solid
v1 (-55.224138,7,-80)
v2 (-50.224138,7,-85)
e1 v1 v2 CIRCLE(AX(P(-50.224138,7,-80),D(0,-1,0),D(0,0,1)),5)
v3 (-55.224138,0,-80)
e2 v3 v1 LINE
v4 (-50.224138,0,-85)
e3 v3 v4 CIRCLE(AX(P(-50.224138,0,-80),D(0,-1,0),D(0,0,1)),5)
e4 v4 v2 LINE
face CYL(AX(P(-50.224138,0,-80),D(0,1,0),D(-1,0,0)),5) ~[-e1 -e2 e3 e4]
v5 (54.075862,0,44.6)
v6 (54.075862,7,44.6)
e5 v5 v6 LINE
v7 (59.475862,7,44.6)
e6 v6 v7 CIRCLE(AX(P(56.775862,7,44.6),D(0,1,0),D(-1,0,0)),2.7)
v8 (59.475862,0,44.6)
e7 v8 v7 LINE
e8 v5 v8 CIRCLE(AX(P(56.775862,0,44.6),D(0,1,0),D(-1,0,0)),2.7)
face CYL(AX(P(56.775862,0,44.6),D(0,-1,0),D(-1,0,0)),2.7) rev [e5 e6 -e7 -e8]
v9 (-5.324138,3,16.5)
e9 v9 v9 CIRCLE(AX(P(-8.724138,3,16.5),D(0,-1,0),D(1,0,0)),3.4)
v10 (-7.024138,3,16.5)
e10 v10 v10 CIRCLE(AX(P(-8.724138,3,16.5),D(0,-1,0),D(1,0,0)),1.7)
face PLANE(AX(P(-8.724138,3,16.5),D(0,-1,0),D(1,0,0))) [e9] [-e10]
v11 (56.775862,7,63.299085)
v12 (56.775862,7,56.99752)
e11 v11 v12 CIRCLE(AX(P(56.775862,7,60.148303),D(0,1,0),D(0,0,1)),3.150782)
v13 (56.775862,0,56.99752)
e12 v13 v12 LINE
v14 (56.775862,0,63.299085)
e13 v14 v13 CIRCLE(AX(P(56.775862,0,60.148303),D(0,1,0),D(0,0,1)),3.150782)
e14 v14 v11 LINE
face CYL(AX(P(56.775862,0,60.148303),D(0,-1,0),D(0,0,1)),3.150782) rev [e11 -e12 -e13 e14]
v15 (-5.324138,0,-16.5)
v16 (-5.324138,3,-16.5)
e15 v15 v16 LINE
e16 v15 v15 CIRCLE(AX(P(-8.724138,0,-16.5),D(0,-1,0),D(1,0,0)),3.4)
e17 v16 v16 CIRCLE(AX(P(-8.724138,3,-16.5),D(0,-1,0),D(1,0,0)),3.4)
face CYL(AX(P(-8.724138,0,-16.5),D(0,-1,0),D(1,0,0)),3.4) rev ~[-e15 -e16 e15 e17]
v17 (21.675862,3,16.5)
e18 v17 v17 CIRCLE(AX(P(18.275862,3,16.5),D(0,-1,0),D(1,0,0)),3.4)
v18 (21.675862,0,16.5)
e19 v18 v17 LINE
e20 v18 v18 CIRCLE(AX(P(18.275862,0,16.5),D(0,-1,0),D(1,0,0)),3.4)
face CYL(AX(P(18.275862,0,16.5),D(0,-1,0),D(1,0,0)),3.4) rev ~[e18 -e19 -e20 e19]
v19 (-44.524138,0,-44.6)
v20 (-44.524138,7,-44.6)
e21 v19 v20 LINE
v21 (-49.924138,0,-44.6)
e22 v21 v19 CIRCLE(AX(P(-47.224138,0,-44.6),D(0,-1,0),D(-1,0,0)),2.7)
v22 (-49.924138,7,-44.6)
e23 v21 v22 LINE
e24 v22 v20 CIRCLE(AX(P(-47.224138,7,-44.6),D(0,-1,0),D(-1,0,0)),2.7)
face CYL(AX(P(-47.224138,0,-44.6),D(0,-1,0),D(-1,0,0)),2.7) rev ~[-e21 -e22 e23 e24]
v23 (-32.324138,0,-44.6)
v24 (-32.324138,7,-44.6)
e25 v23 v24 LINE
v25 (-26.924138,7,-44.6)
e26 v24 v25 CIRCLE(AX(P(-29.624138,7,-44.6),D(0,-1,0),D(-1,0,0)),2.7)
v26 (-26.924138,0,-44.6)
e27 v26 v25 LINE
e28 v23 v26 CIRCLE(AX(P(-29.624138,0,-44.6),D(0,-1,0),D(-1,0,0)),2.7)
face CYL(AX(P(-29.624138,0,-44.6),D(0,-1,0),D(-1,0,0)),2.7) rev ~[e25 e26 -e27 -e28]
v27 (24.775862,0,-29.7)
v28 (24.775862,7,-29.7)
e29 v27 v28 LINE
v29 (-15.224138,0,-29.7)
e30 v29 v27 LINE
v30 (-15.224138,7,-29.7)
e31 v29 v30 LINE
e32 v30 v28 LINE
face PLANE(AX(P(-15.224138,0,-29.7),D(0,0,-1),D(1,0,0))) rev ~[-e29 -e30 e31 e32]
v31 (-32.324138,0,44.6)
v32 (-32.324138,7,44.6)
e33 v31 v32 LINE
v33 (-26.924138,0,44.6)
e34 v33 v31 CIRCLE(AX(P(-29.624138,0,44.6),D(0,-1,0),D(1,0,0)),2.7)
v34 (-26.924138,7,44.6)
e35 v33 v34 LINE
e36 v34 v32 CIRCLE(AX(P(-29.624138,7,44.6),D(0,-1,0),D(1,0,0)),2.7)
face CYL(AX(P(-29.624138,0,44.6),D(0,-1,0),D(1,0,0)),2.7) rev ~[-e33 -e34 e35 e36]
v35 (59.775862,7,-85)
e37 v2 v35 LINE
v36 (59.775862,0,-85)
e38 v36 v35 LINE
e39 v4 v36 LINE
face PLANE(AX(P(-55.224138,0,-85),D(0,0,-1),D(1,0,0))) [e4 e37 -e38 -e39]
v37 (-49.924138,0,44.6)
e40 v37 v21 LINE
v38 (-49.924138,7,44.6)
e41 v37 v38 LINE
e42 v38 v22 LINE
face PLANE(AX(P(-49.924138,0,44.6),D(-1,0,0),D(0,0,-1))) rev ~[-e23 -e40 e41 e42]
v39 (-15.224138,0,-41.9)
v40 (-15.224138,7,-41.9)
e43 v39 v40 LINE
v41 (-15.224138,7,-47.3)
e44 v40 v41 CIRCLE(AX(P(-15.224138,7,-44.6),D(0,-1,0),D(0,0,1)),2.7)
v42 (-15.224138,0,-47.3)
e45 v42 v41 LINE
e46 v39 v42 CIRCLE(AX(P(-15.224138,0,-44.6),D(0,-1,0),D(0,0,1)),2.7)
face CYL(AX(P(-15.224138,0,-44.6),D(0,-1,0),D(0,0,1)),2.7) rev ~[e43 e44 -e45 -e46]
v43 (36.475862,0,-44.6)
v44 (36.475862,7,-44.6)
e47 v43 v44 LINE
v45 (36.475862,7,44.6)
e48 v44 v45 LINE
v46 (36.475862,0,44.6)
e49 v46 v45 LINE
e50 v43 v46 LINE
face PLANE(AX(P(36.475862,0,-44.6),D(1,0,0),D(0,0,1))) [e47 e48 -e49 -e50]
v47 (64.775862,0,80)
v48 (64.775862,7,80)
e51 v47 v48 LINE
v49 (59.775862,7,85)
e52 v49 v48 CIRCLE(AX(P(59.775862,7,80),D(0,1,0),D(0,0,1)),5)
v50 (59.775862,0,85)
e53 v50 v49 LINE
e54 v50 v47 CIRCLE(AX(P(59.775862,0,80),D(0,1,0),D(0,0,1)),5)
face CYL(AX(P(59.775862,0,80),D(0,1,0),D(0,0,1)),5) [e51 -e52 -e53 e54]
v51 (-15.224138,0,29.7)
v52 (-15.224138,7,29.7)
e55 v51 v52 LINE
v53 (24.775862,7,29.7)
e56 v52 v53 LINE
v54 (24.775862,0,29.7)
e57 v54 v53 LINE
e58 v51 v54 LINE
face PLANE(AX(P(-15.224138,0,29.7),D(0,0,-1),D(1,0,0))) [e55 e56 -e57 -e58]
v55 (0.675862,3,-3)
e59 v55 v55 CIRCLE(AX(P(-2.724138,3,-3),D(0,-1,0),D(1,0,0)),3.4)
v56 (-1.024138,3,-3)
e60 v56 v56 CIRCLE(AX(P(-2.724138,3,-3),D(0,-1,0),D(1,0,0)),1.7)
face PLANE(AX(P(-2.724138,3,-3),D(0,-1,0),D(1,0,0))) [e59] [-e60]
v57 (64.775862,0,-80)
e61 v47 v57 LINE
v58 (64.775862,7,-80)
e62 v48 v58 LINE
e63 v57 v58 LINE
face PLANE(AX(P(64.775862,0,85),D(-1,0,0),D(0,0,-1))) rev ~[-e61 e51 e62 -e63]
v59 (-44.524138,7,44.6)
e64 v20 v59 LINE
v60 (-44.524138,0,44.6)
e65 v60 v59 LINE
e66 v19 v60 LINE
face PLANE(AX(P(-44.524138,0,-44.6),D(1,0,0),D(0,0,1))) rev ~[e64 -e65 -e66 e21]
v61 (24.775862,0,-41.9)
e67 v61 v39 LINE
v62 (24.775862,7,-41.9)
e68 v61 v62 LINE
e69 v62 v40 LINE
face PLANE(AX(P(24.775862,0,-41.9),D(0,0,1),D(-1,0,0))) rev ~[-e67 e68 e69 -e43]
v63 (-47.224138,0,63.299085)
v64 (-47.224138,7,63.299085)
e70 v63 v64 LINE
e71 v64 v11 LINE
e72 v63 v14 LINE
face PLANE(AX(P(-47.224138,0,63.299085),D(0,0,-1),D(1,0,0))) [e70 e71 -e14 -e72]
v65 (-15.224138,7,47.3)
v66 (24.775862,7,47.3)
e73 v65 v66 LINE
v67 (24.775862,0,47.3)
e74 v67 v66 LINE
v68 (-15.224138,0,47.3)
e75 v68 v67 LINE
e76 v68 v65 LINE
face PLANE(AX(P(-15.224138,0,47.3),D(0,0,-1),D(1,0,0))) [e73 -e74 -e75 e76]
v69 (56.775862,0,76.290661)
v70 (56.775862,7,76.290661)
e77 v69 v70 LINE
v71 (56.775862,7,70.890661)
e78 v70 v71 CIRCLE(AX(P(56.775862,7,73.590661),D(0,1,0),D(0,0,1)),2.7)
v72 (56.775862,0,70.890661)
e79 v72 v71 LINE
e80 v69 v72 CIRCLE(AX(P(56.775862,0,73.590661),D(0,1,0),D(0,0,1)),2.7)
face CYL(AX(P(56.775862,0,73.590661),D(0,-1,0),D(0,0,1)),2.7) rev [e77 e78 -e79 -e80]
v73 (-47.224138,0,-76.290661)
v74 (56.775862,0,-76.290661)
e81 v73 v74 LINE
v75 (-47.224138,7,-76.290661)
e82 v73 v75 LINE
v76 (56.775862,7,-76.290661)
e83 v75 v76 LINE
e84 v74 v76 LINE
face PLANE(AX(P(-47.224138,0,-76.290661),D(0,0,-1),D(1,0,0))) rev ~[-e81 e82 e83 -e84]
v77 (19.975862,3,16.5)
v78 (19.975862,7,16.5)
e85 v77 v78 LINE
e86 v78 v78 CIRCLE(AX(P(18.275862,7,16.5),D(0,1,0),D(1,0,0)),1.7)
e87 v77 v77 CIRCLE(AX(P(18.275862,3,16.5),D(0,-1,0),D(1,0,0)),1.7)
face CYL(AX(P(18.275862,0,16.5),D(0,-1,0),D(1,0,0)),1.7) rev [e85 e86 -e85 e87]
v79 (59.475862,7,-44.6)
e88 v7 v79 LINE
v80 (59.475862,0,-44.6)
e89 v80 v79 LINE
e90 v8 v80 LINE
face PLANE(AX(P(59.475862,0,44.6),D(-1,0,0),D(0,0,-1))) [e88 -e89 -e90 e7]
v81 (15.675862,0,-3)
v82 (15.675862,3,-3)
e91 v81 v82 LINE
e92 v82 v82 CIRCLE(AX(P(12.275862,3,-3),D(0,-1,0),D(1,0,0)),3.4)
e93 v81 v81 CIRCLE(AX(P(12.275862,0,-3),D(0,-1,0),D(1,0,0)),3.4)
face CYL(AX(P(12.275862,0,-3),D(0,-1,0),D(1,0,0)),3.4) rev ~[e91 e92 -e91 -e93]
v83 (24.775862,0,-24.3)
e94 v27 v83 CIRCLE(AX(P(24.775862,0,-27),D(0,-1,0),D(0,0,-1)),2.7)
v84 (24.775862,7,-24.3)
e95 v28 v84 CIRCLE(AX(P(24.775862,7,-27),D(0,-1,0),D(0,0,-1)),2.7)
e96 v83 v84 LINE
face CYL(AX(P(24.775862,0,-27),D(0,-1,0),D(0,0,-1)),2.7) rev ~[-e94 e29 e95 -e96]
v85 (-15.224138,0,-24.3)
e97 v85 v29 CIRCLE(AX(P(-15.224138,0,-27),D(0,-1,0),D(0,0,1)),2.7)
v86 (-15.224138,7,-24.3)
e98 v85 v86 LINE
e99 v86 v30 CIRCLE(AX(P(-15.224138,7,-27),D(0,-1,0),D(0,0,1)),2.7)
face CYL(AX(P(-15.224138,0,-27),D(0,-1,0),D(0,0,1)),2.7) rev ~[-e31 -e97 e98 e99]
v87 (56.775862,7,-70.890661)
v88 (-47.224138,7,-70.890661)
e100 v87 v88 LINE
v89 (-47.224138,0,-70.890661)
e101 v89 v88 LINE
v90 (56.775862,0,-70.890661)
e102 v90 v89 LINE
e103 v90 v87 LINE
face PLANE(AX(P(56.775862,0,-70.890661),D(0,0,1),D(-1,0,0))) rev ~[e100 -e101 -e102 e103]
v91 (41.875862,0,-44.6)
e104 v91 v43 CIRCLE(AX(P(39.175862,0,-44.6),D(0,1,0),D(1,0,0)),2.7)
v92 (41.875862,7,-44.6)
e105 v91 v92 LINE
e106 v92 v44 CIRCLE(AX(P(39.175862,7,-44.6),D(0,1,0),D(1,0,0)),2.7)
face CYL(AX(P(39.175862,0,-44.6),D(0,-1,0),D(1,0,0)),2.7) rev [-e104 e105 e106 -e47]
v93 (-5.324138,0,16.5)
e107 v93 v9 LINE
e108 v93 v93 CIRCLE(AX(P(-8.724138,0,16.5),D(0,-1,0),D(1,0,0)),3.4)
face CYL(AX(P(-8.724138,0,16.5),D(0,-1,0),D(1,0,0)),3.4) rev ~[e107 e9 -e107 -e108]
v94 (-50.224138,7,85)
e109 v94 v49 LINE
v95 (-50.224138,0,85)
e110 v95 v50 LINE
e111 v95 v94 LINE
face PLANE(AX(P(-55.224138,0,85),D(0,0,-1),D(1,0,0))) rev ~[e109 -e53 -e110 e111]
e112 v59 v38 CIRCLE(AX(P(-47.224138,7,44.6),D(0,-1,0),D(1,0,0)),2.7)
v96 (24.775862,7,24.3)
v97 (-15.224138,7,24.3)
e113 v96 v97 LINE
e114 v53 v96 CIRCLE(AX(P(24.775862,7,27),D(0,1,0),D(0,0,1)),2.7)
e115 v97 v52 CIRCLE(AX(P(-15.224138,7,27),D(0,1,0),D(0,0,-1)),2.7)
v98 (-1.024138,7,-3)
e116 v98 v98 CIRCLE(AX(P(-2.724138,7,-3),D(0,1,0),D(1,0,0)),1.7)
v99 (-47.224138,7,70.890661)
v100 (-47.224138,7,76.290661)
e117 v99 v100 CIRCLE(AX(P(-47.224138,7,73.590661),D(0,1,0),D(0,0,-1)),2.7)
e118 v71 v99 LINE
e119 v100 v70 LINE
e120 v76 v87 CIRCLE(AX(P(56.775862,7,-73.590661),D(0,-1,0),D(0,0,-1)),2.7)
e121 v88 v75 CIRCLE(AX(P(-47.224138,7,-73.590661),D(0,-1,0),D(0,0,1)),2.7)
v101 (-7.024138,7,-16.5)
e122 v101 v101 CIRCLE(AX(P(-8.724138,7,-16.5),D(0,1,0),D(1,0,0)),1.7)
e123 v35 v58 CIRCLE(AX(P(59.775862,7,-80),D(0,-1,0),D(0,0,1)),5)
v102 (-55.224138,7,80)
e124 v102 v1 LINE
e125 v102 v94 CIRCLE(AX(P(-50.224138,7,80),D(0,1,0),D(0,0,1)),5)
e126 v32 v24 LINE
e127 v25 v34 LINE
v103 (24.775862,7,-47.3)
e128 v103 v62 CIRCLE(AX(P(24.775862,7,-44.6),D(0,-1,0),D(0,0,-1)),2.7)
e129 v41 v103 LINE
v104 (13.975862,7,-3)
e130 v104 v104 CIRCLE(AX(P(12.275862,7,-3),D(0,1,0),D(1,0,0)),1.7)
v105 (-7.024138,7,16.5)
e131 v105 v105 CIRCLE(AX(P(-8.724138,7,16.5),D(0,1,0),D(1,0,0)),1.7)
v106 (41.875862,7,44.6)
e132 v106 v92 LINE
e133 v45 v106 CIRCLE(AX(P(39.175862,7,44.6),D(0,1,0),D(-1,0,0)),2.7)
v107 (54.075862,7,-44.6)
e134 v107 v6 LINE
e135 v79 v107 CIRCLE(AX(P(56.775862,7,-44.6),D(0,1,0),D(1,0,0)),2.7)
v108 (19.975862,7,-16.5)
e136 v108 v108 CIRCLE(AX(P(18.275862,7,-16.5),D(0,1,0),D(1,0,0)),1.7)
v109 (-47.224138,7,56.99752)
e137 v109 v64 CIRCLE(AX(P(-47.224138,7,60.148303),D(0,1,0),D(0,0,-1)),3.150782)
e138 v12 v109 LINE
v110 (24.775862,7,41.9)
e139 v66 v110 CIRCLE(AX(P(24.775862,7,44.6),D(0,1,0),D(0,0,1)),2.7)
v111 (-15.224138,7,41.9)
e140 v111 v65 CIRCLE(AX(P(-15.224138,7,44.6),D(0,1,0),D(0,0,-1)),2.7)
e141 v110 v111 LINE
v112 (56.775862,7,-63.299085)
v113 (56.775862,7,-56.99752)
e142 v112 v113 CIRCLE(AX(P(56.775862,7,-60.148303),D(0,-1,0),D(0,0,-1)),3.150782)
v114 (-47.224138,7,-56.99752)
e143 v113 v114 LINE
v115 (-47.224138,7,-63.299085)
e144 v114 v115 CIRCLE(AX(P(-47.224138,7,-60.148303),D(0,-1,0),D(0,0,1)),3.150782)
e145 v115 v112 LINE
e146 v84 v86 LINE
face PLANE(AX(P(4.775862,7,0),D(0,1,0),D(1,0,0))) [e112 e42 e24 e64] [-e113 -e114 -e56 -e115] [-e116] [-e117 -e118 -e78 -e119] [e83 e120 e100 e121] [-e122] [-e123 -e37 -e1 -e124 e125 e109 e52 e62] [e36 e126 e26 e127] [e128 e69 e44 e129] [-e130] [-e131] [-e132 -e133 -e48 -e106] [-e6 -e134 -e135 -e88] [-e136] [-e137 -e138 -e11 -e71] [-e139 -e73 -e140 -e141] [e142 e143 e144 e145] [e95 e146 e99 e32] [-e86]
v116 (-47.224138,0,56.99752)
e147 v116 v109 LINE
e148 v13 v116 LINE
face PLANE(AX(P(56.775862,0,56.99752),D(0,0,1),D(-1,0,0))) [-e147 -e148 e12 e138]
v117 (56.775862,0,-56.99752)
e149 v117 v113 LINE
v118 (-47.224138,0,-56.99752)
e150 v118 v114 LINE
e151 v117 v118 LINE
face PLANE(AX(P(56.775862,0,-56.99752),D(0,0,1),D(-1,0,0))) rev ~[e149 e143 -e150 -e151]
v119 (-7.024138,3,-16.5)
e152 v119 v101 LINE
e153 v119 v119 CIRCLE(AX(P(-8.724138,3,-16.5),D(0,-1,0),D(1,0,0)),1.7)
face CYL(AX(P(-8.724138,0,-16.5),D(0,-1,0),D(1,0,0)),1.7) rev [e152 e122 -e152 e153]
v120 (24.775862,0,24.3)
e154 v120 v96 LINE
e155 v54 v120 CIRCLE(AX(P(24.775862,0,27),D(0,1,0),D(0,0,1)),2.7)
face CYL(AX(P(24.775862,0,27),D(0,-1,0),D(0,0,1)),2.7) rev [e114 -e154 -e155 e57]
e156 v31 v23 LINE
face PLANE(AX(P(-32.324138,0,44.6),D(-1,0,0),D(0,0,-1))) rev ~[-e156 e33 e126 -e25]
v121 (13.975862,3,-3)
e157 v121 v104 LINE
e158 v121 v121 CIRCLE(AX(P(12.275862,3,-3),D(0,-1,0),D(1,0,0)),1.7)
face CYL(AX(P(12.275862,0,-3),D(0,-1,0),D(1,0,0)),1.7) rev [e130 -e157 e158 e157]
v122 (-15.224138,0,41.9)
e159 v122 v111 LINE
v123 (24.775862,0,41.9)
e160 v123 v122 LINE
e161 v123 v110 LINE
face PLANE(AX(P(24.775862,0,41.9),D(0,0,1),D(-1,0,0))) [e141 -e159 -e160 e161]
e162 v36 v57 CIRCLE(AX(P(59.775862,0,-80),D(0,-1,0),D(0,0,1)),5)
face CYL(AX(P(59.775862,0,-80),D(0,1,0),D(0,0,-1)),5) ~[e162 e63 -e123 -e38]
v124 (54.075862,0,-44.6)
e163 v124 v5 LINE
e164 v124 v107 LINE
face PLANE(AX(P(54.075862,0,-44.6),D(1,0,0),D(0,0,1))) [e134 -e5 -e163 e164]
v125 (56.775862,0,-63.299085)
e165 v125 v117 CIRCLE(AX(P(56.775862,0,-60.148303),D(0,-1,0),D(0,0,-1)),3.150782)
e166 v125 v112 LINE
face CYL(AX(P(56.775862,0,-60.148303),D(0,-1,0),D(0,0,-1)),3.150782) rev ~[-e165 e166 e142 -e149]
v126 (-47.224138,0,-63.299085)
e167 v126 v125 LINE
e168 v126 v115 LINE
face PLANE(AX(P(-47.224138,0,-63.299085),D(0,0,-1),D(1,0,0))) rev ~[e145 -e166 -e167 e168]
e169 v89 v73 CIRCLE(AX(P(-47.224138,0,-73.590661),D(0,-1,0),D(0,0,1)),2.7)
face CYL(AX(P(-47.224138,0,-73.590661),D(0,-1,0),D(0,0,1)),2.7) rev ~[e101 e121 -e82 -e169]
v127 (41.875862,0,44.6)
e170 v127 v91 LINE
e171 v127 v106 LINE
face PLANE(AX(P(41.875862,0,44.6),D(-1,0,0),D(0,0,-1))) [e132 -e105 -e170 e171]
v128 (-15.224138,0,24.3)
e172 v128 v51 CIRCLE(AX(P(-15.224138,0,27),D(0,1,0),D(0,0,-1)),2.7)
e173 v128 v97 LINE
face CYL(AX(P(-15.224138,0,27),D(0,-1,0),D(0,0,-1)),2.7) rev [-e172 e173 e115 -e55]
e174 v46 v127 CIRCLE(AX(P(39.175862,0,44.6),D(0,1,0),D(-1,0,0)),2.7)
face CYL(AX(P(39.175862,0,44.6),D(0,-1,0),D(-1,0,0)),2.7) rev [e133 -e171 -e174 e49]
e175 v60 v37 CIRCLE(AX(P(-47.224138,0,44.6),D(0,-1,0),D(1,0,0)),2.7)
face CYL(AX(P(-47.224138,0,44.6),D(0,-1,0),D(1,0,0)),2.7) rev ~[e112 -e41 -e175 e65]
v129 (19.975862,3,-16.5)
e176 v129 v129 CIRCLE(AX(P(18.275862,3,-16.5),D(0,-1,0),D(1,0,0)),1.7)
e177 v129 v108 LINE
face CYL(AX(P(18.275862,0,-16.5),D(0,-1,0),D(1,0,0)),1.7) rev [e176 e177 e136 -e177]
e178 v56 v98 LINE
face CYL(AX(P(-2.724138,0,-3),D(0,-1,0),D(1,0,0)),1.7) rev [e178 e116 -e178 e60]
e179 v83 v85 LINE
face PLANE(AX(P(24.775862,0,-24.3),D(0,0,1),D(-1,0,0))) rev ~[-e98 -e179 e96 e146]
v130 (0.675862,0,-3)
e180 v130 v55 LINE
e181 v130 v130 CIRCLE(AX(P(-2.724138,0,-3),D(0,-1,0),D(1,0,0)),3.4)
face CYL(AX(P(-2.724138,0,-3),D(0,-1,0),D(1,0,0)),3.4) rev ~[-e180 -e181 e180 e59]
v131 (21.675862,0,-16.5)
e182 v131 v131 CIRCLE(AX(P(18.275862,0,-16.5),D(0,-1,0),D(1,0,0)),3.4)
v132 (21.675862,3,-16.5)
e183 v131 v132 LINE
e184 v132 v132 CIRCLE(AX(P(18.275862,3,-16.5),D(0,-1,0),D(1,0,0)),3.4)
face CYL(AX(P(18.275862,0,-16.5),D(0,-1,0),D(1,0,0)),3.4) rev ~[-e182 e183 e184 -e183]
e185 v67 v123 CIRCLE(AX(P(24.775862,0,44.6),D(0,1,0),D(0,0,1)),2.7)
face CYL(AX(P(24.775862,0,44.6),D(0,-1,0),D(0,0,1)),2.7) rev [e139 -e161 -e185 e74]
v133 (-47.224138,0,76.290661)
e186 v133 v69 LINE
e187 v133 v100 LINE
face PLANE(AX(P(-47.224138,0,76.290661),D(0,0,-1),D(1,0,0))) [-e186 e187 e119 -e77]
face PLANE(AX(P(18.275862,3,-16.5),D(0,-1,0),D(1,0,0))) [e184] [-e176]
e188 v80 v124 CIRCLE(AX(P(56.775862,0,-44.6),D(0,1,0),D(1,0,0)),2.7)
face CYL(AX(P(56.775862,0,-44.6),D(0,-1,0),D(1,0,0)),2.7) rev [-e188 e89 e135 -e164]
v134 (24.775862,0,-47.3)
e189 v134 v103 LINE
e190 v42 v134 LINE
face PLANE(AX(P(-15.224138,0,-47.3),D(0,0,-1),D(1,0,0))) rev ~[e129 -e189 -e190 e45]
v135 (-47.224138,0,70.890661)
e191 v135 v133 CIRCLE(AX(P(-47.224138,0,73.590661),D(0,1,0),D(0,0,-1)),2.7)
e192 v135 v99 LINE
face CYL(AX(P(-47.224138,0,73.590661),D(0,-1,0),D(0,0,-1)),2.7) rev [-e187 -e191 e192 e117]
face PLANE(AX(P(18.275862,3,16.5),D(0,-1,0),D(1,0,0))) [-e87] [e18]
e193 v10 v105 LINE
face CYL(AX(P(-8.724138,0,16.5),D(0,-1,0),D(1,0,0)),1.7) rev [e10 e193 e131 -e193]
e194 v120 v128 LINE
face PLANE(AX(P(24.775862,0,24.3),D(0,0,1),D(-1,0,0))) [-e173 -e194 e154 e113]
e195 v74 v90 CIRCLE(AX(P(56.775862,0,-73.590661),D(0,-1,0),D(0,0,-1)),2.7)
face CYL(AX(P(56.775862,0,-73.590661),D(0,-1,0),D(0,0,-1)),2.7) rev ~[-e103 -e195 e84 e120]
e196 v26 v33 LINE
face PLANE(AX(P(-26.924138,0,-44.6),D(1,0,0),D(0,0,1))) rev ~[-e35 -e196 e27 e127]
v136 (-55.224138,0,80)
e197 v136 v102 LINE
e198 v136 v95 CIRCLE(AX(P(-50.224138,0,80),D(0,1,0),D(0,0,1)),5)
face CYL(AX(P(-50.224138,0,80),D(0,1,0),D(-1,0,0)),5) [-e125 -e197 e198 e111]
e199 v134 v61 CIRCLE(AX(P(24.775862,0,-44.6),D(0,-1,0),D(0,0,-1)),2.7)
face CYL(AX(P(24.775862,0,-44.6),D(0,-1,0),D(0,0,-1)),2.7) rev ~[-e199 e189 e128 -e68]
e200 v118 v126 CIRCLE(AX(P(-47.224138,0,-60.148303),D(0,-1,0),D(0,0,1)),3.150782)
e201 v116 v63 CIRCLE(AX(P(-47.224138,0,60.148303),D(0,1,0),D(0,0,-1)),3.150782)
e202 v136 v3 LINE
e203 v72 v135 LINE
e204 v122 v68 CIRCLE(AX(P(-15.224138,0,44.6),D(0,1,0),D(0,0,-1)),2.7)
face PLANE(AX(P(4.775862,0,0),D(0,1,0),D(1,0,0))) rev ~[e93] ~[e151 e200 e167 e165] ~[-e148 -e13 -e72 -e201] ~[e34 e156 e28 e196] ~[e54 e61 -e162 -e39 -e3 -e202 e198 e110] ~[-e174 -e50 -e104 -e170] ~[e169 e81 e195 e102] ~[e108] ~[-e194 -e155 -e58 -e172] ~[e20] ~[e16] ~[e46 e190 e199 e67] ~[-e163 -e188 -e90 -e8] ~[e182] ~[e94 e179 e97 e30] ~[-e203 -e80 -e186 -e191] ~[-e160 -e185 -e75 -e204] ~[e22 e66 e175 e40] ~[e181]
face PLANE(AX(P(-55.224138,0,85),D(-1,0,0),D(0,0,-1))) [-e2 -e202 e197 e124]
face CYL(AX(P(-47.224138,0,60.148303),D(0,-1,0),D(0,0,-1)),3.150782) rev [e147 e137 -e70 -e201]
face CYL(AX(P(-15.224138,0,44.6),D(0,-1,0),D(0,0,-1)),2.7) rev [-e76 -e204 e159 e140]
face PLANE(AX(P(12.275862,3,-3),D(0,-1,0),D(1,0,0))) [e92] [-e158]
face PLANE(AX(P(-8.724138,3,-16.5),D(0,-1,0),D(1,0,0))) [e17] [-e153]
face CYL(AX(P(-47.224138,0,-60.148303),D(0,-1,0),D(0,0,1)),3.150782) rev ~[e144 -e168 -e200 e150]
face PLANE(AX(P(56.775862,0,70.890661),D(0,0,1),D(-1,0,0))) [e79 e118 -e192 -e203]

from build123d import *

# Parameters (mm, degrees)
SKETCH_1_W          = 120
SKETCH_1_H          = 170
SKETCH_1_R          = 1.7
EXTRUDE_1_DEPTH     = 7
SKETCH_3_R          = 3.4
CUT_EXTRUDE_1_DEPTH = 3
FILLET_1_R          = 5


with BuildPart() as part:
    # 草图1 → 凸台-拉伸1 (new body)
    with BuildSketch(Plane(origin=(0, 0, 0), x_dir=(1, 0, 0), z_dir=(0, 1, 0))):
        with Locations((4.775862069, 0)):
            Rectangle(SKETCH_1_W, SKETCH_1_H)
        with Locations((-8.724137931, 16.5)):
            Circle(SKETCH_1_R, mode=Mode.SUBTRACT)
        with Locations((18.275862069, 16.5)):
            Circle(SKETCH_1_R, mode=Mode.SUBTRACT)
        with Locations((18.275862069, -16.5)):
            Circle(SKETCH_1_R, mode=Mode.SUBTRACT)
        with Locations((-8.724137931, -16.5)):
            Circle(SKETCH_1_R, mode=Mode.SUBTRACT)
        with Locations((-2.724137931, 3)):
            Circle(SKETCH_1_R, mode=Mode.SUBTRACT)
        with Locations((12.275862069, 3)):
            Circle(SKETCH_1_R, mode=Mode.SUBTRACT)
        with BuildLine():
            Line((-15.224137931, 29.7), (24.775862069, 29.7))
            ThreePointArc((24.775862069, 29.7), (27.475862069, 27), (24.775862069, 24.3))
            Line((24.775862069, 24.3), (-15.224137931, 24.3))
            ThreePointArc((-15.224137931, 24.3), (-17.924137931, 27), (-15.224137931, 29.7))
        make_face(mode=Mode.SUBTRACT)
        with BuildLine():
            Line((-15.224137931, 47.3), (24.775862069, 47.3))
            ThreePointArc((24.775862069, 47.3), (27.475862069, 44.6), (24.775862069, 41.9))
            Line((24.775862069, 41.9), (-15.224137931, 41.9))
            ThreePointArc((-15.224137931, 41.9), (-17.924137931, 44.6), (-15.224137931, 47.3))
        make_face(mode=Mode.SUBTRACT)
        with BuildLine():
            Line((-15.224137931, -29.7), (24.775862069, -29.7))
            ThreePointArc((24.775862069, -29.7), (27.475862069, -27), (24.775862069, -24.3))
            Line((24.775862069, -24.3), (-15.224137931, -24.3))
            ThreePointArc((-15.224137931, -24.3), (-17.924137931, -27), (-15.224137931, -29.7))
        make_face(mode=Mode.SUBTRACT)
        with BuildLine():
            Line((-15.224137931, -47.3), (24.775862069, -47.3))
            ThreePointArc((24.775862069, -47.3), (27.475862069, -44.6), (24.775862069, -41.9))
            Line((24.775862069, -41.9), (-15.224137931, -41.9))
            ThreePointArc((-15.224137931, -41.9), (-17.924137931, -44.6), (-15.224137931, -47.3))
        make_face(mode=Mode.SUBTRACT)
        with BuildLine():
            Line((-44.524137931, 44.6), (-44.524137931, -44.6))
            ThreePointArc((-44.524137931, -44.6), (-47.224137931, -47.3), (-49.924137931, -44.6))
            Line((-49.924137931, -44.6), (-49.924137931, 44.6))
            ThreePointArc((-49.924137931, 44.6), (-47.224137931, 47.3), (-44.524137931, 44.6))
        make_face(mode=Mode.SUBTRACT)
        with BuildLine():
            Line((-26.924137931, 44.6), (-26.924137931, -44.6))
            ThreePointArc((-26.924137931, -44.6), (-29.624137931, -47.3), (-32.324137931, -44.6))
            Line((-32.324137931, -44.6), (-32.324137931, 44.6))
            ThreePointArc((-32.324137931, 44.6), (-29.624137931, 47.3), (-26.924137931, 44.6))
        make_face(mode=Mode.SUBTRACT)
        with BuildLine():
            Line((36.475862069, 44.6), (36.475862069, -44.6))
            ThreePointArc((36.475862069, -44.6), (39.175862069, -47.3), (41.875862069, -44.6))
            Line((41.875862069, -44.6), (41.875862069, 44.6))
            ThreePointArc((41.875862069, 44.6), (39.175862069, 47.3), (36.475862069, 44.6))
        make_face(mode=Mode.SUBTRACT)
        with BuildLine():
            Line((54.075862069, 44.6), (54.075862069, -44.6))
            ThreePointArc((54.075862069, -44.6), (56.775862069, -47.3), (59.475862069, -44.6))
            Line((59.475862069, -44.6), (59.475862069, 44.6))
            ThreePointArc((59.475862069, 44.6), (56.775862069, 47.3), (54.075862069, 44.6))
        make_face(mode=Mode.SUBTRACT)
        with BuildLine():
            Line((56.775862069, 56.997520271), (-47.224137931, 56.997520271))
            ThreePointArc((-47.224137931, 56.997520271), (-50.374920197, 60.148302538), (-47.224137931, 63.299084804))
            Line((-47.224137931, 63.299084804), (56.775862069, 63.299084804))
            ThreePointArc((56.775862069, 63.299084804), (59.926644335, 60.148302538), (56.775862069, 56.997520271))
        make_face(mode=Mode.SUBTRACT)
        with BuildLine():
            Line((56.775862069, 70.890661148), (-47.224137931, 70.890661148))
            ThreePointArc((-47.224137931, 70.890661148), (-49.924137931, 73.590661148), (-47.224137931, 76.290661148))
            Line((-47.224137931, 76.290661148), (56.775862069, 76.290661148))
            ThreePointArc((56.775862069, 76.290661148), (59.475862069, 73.590661148), (56.775862069, 70.890661148))
        make_face(mode=Mode.SUBTRACT)
        with BuildLine():
            Line((56.775862069, -56.997520271), (-47.224137931, -56.997520271))
            ThreePointArc((-47.224137931, -56.997520271), (-50.374920197, -60.148302538), (-47.224137931, -63.299084804))
            Line((-47.224137931, -63.299084804), (56.775862069, -63.299084804))
            ThreePointArc((56.775862069, -63.299084804), (59.926644335, -60.148302538), (56.775862069, -56.997520271))
        make_face(mode=Mode.SUBTRACT)
        with BuildLine():
            Line((56.775862069, -70.890661148), (-47.224137931, -70.890661148))
            ThreePointArc((-47.224137931, -70.890661148), (-49.924137931, -73.590661148), (-47.224137931, -76.290661148))
            Line((-47.224137931, -76.290661148), (56.775862069, -76.290661148))
            ThreePointArc((56.775862069, -76.290661148), (59.475862069, -73.590661148), (56.775862069, -70.890661148))
        make_face(mode=Mode.SUBTRACT)
    extrude(amount=EXTRUDE_1_DEPTH)

    # 草图3 → 切除-拉伸1 (cut)
    with BuildSketch(Plane.XZ):
        with Locations((12.275862069, -3)):
            Circle(SKETCH_3_R)
        with Locations((-2.724137931, -3)):
            Circle(SKETCH_3_R)
        with Locations((18.275862069, 16.5)):
            Circle(SKETCH_3_R)
        with Locations((-8.724137931, 16.5)):
            Circle(SKETCH_3_R)
        with Locations((18.275862069, -16.5)):
            Circle(SKETCH_3_R)
        with Locations((-8.724137931, -16.5)):
            Circle(SKETCH_3_R)
    extrude(amount=-CUT_EXTRUDE_1_DEPTH, mode=Mode.SUBTRACT)

    # 圆角1
    fillet_1_edges = [part.edges().sort_by_distance(p)[0] for p in [
        (-55.224137931, 3.5, -85),
        (64.775862069, 3.5, -85),
        (64.775862069, 3.5, 85),
        (-55.224137931, 3.5, 85),
    ]]
    fillet(fillet_1_edges, radius=FILLET_1_R)


solid = part.part
